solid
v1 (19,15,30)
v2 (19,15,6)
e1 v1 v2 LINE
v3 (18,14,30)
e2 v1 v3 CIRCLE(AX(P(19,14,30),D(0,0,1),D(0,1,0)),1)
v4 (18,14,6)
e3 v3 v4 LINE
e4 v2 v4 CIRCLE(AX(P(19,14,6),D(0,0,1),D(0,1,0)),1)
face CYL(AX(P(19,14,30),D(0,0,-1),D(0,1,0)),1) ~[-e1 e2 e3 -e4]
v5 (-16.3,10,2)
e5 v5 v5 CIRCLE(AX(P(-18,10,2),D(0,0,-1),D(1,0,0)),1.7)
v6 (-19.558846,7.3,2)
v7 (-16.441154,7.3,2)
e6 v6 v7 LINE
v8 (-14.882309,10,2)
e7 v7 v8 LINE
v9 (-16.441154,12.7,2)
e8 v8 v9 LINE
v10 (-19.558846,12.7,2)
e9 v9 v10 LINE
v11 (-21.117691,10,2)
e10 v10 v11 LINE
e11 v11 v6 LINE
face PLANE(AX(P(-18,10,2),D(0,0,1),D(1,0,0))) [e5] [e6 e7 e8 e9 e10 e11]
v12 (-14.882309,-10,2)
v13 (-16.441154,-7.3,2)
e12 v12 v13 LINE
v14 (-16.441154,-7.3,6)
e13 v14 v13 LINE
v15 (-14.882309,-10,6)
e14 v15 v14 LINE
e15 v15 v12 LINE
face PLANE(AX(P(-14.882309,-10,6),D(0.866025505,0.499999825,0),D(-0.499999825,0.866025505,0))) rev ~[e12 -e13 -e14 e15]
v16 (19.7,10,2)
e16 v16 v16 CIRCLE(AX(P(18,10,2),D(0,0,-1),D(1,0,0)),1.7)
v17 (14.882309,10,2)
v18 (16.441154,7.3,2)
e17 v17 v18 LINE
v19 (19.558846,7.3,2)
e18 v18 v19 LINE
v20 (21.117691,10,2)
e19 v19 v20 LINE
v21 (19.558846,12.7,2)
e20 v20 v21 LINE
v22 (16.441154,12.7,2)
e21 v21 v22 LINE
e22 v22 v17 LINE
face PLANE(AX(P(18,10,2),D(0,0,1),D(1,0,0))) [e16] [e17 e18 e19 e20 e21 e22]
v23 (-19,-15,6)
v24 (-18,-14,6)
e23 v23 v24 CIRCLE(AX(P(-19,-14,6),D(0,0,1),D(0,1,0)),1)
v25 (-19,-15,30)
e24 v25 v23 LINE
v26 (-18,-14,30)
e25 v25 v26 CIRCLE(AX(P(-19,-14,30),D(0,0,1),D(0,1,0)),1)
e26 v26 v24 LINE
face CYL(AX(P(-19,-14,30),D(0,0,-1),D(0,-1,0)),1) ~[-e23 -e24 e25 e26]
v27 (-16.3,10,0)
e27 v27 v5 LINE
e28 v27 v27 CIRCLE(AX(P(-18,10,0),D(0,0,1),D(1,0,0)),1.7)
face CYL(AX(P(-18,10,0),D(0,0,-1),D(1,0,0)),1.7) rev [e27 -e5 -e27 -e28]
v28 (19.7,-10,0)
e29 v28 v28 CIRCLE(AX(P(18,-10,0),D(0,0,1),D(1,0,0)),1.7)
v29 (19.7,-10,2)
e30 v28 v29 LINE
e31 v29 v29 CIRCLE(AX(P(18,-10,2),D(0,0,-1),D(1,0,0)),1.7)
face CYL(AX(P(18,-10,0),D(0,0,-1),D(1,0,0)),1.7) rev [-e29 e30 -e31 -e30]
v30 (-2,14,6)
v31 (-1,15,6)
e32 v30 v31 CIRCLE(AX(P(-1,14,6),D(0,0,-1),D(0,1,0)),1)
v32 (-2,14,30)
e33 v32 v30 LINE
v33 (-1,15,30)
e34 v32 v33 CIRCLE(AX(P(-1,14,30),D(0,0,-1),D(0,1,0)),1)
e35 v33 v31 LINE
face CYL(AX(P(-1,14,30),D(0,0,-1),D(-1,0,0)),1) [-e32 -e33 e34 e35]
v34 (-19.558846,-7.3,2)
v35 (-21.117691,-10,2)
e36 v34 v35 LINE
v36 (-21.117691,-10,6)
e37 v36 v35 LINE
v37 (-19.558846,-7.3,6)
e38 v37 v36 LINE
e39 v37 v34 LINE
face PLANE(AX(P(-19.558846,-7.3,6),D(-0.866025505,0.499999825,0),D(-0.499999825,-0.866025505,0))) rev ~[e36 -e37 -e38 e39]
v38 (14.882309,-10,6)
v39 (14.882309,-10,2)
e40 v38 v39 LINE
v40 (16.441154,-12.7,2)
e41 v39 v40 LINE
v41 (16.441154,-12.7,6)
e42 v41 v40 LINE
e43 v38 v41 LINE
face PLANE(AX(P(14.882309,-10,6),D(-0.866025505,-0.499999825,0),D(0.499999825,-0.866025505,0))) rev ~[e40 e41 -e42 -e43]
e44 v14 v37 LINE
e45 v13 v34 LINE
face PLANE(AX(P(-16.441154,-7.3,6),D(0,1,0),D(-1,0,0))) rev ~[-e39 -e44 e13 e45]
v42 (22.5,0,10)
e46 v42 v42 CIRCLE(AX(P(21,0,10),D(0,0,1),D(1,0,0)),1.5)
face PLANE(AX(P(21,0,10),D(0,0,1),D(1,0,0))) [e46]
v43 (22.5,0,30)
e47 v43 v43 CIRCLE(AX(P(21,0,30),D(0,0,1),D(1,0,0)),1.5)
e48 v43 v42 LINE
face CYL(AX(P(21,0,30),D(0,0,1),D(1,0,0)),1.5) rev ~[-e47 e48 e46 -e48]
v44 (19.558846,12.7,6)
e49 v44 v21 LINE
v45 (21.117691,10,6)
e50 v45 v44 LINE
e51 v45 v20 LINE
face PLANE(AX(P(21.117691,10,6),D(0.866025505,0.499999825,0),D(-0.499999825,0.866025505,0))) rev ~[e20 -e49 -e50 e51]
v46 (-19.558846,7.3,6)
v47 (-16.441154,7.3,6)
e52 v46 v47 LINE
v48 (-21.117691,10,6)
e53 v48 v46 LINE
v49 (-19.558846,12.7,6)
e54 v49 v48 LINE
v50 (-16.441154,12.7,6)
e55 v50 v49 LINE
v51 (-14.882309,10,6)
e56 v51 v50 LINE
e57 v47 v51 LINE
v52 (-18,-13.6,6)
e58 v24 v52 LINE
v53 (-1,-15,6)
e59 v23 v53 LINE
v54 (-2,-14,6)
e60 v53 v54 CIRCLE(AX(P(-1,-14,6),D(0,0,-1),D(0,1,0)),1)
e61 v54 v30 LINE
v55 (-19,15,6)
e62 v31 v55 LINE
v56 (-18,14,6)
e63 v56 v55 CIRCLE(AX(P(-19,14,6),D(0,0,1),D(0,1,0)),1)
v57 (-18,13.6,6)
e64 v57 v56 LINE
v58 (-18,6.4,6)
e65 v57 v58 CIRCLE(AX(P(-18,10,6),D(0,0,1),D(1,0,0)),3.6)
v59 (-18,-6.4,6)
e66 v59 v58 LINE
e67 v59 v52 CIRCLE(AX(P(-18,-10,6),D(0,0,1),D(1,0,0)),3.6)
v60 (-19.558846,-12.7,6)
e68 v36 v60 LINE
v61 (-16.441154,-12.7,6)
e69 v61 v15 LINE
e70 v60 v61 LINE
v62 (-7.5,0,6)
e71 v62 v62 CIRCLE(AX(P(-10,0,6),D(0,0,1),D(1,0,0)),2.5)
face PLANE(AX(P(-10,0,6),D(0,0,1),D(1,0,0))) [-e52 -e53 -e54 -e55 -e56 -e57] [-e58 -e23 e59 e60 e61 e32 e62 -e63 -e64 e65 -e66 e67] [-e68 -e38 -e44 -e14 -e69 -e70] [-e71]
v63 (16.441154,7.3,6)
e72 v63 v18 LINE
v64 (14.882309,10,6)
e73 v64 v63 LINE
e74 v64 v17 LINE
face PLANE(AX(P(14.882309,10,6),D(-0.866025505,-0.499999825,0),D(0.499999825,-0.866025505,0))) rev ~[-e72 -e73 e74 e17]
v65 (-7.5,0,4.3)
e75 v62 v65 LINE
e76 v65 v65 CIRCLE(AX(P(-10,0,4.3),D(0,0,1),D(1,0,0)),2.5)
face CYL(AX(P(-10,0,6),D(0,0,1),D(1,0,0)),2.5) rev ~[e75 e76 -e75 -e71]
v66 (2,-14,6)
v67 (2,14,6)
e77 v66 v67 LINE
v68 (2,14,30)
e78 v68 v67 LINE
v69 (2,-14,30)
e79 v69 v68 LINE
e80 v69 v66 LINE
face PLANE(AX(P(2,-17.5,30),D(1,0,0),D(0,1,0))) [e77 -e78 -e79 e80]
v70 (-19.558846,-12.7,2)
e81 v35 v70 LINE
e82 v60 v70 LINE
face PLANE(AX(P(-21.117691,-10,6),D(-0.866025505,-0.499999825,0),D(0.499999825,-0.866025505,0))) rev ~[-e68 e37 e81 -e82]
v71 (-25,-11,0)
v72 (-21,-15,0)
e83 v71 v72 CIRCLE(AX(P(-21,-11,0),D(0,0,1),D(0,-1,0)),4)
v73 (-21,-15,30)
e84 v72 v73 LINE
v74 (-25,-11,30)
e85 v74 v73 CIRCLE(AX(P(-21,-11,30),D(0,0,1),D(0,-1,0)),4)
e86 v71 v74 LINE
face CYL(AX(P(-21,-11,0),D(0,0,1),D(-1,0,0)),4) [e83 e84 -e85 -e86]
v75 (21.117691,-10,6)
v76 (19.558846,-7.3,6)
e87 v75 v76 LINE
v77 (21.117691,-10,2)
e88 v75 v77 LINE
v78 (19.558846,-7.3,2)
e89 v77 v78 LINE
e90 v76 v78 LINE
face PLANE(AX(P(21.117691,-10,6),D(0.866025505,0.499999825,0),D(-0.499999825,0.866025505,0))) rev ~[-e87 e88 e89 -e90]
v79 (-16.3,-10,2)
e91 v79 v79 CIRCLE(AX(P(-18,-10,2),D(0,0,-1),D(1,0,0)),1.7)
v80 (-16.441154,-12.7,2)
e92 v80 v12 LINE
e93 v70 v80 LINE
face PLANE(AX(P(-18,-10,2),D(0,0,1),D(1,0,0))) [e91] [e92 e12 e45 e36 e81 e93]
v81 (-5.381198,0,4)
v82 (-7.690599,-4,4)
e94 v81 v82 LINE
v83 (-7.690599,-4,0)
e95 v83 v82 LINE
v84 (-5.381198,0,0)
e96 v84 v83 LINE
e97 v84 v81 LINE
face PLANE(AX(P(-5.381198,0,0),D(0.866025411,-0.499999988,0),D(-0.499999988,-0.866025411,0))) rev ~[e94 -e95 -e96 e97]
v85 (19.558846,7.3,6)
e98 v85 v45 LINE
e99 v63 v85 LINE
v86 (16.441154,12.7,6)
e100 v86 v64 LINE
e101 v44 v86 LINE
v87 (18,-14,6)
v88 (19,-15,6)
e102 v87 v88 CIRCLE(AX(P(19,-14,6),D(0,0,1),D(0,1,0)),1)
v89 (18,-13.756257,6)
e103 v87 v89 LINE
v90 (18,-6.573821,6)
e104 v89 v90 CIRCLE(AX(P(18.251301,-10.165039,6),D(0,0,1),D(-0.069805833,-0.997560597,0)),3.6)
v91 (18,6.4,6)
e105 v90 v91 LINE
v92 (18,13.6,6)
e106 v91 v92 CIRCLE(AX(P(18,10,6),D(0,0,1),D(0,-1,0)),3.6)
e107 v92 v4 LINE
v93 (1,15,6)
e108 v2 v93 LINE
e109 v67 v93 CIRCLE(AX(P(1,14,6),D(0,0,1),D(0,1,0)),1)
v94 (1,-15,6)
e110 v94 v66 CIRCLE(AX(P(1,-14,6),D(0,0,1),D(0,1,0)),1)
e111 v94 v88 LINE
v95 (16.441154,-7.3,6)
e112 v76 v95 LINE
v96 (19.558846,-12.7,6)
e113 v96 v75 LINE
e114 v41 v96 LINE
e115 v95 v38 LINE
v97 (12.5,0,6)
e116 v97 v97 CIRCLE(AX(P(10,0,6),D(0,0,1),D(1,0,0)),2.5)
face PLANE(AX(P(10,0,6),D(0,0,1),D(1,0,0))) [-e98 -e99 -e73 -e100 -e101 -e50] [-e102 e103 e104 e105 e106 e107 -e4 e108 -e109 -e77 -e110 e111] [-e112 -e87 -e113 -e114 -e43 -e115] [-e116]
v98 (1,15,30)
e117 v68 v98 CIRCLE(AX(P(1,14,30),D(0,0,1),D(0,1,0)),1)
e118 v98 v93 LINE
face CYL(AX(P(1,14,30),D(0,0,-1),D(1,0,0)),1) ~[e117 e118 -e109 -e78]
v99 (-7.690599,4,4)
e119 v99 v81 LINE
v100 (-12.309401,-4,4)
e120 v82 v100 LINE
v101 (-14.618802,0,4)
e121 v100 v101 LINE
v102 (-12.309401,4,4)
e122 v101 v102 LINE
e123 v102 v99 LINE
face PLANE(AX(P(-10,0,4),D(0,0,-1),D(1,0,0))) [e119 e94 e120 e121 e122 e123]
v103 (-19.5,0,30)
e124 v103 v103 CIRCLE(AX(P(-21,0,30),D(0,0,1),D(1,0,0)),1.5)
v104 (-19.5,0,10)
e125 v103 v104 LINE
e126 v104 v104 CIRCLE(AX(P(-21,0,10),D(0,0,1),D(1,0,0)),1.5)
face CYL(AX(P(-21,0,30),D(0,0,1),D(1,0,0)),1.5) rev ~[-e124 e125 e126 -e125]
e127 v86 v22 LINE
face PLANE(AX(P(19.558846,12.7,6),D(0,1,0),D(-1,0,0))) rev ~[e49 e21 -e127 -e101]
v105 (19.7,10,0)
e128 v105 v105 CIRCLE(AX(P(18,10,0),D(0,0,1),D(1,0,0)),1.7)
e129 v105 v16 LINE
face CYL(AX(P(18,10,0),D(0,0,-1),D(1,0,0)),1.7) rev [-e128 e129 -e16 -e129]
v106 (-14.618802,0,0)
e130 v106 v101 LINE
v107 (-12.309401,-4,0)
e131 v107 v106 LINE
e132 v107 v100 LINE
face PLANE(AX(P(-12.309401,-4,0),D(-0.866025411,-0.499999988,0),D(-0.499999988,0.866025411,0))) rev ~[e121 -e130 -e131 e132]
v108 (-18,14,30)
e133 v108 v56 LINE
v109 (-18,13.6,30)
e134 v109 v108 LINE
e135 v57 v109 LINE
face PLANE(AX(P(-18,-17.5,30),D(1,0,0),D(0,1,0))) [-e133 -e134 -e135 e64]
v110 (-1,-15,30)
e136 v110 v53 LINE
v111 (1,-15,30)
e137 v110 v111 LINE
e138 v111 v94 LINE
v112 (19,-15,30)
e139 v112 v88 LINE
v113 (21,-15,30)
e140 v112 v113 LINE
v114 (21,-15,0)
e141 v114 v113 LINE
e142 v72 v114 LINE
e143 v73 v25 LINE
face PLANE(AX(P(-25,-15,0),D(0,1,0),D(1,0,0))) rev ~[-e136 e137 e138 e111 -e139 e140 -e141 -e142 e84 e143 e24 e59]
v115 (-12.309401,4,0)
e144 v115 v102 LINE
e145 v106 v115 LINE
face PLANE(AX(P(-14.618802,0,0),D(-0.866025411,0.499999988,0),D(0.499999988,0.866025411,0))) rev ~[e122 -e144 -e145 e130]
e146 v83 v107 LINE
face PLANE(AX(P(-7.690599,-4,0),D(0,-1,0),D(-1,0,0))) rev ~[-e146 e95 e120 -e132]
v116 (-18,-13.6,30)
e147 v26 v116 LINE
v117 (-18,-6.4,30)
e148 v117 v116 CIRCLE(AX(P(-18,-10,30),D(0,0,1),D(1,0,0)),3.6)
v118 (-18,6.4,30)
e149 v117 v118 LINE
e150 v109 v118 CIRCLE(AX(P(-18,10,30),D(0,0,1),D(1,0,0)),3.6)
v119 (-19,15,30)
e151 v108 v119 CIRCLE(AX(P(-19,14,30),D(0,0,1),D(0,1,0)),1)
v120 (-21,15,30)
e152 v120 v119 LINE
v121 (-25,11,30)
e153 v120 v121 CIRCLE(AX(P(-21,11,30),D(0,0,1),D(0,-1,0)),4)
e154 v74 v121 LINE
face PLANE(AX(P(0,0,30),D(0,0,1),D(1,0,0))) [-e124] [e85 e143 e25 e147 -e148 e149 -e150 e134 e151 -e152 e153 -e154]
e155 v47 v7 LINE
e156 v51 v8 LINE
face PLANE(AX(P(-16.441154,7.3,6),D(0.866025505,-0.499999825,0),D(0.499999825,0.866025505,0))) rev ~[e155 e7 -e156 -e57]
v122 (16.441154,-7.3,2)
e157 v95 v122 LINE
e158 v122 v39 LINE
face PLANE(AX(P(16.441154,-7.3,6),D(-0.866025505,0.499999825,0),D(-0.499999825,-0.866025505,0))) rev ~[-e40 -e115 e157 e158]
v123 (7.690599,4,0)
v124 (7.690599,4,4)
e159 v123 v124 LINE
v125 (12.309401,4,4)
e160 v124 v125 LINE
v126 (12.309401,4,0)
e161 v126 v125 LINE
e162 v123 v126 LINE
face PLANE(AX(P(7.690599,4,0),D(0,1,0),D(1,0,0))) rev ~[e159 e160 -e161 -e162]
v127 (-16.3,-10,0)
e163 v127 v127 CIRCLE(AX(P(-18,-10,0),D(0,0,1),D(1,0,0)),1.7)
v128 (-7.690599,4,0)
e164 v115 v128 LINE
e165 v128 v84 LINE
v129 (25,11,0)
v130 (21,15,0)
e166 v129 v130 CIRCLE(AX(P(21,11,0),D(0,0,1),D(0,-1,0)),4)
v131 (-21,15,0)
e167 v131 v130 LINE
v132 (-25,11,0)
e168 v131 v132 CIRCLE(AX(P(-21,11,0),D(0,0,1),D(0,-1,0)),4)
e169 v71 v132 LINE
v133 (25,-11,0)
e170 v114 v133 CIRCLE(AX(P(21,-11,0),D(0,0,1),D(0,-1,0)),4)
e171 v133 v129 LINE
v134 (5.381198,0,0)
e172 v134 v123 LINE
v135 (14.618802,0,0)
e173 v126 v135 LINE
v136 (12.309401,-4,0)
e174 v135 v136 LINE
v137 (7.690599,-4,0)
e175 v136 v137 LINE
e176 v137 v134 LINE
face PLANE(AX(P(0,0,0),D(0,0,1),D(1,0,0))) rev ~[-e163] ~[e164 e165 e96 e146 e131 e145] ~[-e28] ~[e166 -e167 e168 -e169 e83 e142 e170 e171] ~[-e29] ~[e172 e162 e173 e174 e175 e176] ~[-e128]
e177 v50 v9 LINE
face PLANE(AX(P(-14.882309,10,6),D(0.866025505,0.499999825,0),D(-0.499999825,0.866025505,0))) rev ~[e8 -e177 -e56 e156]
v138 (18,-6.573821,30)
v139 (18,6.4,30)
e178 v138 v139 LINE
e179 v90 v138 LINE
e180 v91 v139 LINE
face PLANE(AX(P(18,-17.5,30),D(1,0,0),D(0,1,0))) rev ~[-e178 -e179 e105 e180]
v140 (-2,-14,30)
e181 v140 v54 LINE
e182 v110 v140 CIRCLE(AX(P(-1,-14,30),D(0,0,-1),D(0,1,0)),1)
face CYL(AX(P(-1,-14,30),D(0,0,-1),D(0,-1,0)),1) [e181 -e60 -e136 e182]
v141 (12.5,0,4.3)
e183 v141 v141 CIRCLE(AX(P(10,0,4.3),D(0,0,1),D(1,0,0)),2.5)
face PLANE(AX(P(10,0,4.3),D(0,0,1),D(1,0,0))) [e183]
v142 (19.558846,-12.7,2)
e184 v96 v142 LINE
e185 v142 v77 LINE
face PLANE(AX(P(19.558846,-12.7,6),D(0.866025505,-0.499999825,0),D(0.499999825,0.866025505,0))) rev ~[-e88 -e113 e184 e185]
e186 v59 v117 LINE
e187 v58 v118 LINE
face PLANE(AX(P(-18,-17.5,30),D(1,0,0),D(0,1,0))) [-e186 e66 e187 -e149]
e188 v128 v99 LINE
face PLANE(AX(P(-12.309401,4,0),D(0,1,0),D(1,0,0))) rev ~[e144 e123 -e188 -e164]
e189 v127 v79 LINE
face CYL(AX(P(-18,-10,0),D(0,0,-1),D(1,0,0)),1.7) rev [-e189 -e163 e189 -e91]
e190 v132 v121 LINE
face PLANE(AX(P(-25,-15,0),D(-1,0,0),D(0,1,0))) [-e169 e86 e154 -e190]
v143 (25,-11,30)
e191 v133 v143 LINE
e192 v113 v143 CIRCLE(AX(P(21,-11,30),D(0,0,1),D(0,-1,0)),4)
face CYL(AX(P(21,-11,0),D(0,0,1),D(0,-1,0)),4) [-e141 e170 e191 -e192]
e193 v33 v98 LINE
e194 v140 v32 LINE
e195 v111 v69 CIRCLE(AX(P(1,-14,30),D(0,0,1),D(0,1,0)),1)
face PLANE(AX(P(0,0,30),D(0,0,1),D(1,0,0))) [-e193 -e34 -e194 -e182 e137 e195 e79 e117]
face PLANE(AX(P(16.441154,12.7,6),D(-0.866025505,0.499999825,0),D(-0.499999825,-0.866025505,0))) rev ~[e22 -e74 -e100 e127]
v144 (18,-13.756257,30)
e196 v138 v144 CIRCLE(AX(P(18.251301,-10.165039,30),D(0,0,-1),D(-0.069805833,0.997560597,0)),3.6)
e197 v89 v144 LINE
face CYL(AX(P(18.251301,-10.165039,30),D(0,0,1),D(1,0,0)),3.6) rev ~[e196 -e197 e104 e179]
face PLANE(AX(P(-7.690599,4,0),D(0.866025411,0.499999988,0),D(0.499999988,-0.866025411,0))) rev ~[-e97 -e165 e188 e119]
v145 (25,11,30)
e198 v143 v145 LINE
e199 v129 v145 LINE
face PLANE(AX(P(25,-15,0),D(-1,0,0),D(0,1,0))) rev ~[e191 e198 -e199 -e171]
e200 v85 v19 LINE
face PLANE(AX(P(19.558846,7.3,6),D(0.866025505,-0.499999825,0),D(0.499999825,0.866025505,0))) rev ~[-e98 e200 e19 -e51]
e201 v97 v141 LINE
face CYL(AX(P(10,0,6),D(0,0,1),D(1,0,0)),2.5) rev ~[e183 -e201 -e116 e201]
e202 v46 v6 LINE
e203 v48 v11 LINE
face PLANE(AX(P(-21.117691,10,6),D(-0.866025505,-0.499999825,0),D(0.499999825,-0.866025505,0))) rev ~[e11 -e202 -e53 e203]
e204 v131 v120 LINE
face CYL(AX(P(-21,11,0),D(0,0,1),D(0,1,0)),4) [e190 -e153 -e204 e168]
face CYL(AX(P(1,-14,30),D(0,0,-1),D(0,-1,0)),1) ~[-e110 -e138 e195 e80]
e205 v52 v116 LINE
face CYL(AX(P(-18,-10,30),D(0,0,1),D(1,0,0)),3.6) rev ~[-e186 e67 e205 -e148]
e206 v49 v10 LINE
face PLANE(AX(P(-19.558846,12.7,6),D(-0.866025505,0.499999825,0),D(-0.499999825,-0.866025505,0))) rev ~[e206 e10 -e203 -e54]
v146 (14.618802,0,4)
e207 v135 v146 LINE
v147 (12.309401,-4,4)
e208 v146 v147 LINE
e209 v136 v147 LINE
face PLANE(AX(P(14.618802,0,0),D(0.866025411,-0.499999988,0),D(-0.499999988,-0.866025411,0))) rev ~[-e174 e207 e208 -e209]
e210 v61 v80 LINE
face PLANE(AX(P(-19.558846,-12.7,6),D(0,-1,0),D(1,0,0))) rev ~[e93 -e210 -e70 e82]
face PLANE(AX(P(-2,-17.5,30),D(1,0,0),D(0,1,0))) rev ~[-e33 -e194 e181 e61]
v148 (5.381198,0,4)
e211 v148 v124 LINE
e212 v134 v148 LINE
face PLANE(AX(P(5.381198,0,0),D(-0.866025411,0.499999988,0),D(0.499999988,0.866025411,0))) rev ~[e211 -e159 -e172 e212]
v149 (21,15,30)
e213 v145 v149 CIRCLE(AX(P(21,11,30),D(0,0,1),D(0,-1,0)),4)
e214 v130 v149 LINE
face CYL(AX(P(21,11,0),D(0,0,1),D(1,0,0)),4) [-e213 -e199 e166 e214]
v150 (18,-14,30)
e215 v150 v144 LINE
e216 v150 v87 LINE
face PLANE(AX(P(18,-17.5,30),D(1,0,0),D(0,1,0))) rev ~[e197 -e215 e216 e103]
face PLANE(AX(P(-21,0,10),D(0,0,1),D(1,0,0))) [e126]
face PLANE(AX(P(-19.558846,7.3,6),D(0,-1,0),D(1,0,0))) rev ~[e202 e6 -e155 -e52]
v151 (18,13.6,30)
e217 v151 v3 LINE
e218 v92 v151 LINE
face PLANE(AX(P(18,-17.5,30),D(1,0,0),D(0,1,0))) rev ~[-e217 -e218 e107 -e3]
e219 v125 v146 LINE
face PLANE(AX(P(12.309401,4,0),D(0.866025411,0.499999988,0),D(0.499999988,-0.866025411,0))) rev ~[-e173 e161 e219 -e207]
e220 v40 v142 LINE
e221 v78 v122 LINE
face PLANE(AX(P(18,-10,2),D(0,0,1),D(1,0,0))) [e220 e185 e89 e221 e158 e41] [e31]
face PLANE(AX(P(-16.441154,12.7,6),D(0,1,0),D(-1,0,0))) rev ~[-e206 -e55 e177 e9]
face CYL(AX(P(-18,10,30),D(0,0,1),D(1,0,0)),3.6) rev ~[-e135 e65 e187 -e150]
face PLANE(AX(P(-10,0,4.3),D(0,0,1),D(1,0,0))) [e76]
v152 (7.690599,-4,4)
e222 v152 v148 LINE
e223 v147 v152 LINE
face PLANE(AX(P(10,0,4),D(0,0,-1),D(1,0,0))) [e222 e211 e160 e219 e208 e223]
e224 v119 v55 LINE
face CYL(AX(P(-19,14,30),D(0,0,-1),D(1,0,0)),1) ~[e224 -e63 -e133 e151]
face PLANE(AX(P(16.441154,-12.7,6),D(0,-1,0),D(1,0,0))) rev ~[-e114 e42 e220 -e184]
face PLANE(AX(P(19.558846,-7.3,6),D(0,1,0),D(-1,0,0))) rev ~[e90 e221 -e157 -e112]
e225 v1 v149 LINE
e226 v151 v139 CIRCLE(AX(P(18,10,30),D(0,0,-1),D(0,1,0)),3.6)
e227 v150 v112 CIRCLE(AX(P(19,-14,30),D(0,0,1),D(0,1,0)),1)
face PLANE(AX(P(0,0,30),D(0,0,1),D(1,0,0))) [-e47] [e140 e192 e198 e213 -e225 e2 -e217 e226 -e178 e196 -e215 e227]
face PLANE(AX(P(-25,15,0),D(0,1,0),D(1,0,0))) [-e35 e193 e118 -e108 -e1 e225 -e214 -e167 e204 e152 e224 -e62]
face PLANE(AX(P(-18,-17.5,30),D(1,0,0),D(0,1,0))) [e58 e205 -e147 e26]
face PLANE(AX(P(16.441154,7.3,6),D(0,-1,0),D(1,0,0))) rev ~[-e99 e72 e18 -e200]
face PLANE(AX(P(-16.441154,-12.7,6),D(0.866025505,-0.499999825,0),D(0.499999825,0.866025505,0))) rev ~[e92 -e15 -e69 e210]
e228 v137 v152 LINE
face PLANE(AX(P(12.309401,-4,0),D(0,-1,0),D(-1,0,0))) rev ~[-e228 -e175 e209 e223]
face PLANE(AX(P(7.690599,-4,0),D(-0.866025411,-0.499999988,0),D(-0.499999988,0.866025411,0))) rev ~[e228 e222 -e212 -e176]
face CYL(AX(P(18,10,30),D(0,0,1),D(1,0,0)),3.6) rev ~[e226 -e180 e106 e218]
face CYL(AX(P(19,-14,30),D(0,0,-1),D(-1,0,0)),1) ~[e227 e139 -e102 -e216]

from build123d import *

# Parameters (mm, degrees)
SKETCH_W        = 50
SKETCH_H        = 30
SKETCH_R        = 1.7
PAD_DEPTH       = 30
SKETCH001_W     = 16
SKETCH001_H     = 35
POCKET_DEPTH    = 24
POCKET001_DEPTH = 4
SKETCH003_R     = 2.5
POCKET002_DEPTH = 1.7
SKETCH004_R     = 3.6
POCKET003_DEPTH = 24
POCKET004_DEPTH = 4
SKETCH006_R     = 1.5
POCKET005_DEPTH = 20
FILLET_R        = 4
FILLET001_R     = 4
FILLET002_R     = 4
FILLET003_R     = 4
FILLET004_R     = 1
FILLET005_R     = 1
FILLET006_R     = 1
FILLET007_R     = 1
FILLET008_R     = 1
FILLET009_R     = 1
FILLET010_R     = 1
FILLET011_R     = 1


with BuildPart() as part:
    # Sketch → Pad (new body)
    with BuildSketch(Plane.XY):
        Rectangle(SKETCH_W, SKETCH_H)
        with Locations((18, 10)):
            Circle(SKETCH_R, mode=Mode.SUBTRACT)
        with Locations((18, -10)):
            Circle(SKETCH_R, mode=Mode.SUBTRACT)
        with Locations((-18, -10)):
            Circle(SKETCH_R, mode=Mode.SUBTRACT)
        with Locations((-18, 10)):
            Circle(SKETCH_R, mode=Mode.SUBTRACT)
    extrude(amount=PAD_DEPTH)

    # Sketch001 → Pocket (cut)
    with BuildSketch(Plane.XY.offset(30)):
        with Locations((-10, 0)):
            Rectangle(SKETCH001_W, SKETCH001_H)
        with Locations((10, 0)):
            Rectangle(SKETCH001_W, SKETCH001_H)
    extrude(amount=-POCKET_DEPTH, mode=Mode.SUBTRACT)

    # Sketch002 → Pocket001 (cut)
    with BuildSketch(Plane(origin=(0, 0, 0), x_dir=(1, 0, 0), z_dir=(0, 0, -1))):
        Polygon((-12.309401, 4), (-14.618802, 0), (-12.309401, -4), (-7.690599, -4), (-5.381198, 0), (-7.690599, 4), align=None)
        Polygon((7.690599, 4), (5.381198, 0), (7.690599, -4), (12.309401, -4), (14.618802, 0), (12.309401, 4), align=None)
    extrude(amount=-POCKET001_DEPTH, mode=Mode.SUBTRACT)

    # Sketch003 → Pocket002 (cut)
    with BuildSketch(Plane.XY.offset(6)):
        with Locations((-10, 0)):
            Circle(SKETCH003_R)
        with Locations((10, 0)):
            Circle(SKETCH003_R)
    extrude(amount=-POCKET002_DEPTH, mode=Mode.SUBTRACT)

    # Sketch004 → Pocket003 (cut)
    with BuildSketch(Plane.XY.offset(30)):
        with Locations((-18, 10)):
            Circle(SKETCH004_R)
        with Locations((18, 10)):
            Circle(SKETCH004_R)
        with Locations((-18, -10)):
            Circle(SKETCH004_R)
        with Locations((18.251301, -10.165039)):
            Circle(SKETCH004_R)
    extrude(amount=-POCKET003_DEPTH, mode=Mode.SUBTRACT)

    # Sketch005 → Pocket004 (cut)
    with BuildSketch(Plane.XY.offset(6)):
        Polygon((-19.558846, 12.7), (-21.117691, 10), (-19.558846, 7.3), (-16.441154, 7.3), (-14.882309, 10), (-16.441154, 12.7), align=None)
        Polygon((16.441154, 12.7), (14.882309, 10), (16.441154, 7.3), (19.558846, 7.3), (21.117691, 10), (19.558846, 12.7), align=None)
        Polygon((16.441154, -7.3), (14.882309, -10), (16.441154, -12.7), (19.558846, -12.7), (21.117691, -10), (19.558846, -7.3), align=None)
        Polygon((-21.117691, -10), (-19.558846, -12.7), (-16.441154, -12.7), (-14.882309, -10), (-16.441154, -7.3), (-19.558846, -7.3), align=None)
    extrude(amount=-POCKET004_DEPTH, mode=Mode.SUBTRACT)

    # Sketch006 → Pocket005 (cut)
    with BuildSketch(Plane.XY.offset(30)):
        with Locations((-21, 0)):
            Circle(SKETCH006_R)
        with Locations((21, 0)):
            Circle(SKETCH006_R)
    extrude(amount=-POCKET005_DEPTH, mode=Mode.SUBTRACT)

    # Fillet
    fillet_edges = [part.edges().sort_by_distance(p)[0] for p in [
        (-25, -15, 15),
    ]]
    fillet(fillet_edges, radius=FILLET_R)

    # Fillet001
    fillet001_edges = [part.edges().sort_by_distance(p)[0] for p in [
        (25, -15, 15),
    ]]
    fillet(fillet001_edges, radius=FILLET001_R)

    # Fillet002
    fillet002_edges = [part.edges().sort_by_distance(p)[0] for p in [
        (25, 15, 15),
    ]]
    fillet(fillet002_edges, radius=FILLET002_R)

    # Fillet003
    fillet003_edges = [part.edges().sort_by_distance(p)[0] for p in [
        (-25, 15, 15),
    ]]
    fillet(fillet003_edges, radius=FILLET003_R)

    # Fillet004
    fillet004_edges = [part.edges().sort_by_distance(p)[0] for p in [
        (-2, -15, 18),
    ]]
    fillet(fillet004_edges, radius=FILLET004_R)

    # Fillet005
    fillet005_edges = [part.edges().sort_by_distance(p)[0] for p in [
        (2, -15, 18),
    ]]
    fillet(fillet005_edges, radius=FILLET005_R)

    # Fillet006
    fillet006_edges = [part.edges().sort_by_distance(p)[0] for p in [
        (-2, 15, 18),
    ]]
    fillet(fillet006_edges, radius=FILLET006_R)

    # Fillet007
    fillet007_edges = [part.edges().sort_by_distance(p)[0] for p in [
        (2, 15, 18),
    ]]
    fillet(fillet007_edges, radius=FILLET007_R)

    # Fillet008
    fillet008_edges = [part.edges().sort_by_distance(p)[0] for p in [
        (18, 15, 18),
    ]]
    fillet(fillet008_edges, radius=FILLET008_R)

    # Fillet009
    fillet009_edges = [part.edges().sort_by_distance(p)[0] for p in [
        (-18, 15, 18),
    ]]
    fillet(fillet009_edges, radius=FILLET009_R)

    # Fillet010
    fillet010_edges = [part.edges().sort_by_distance(p)[0] for p in [
        (-18, -15, 18),
    ]]
    fillet(fillet010_edges, radius=FILLET010_R)

    # Fillet011
    fillet011_edges = [part.edges().sort_by_distance(p)[0] for p in [
        (18, -15, 18),
    ]]
    fillet(fillet011_edges, radius=FILLET011_R)


solid = part.part
